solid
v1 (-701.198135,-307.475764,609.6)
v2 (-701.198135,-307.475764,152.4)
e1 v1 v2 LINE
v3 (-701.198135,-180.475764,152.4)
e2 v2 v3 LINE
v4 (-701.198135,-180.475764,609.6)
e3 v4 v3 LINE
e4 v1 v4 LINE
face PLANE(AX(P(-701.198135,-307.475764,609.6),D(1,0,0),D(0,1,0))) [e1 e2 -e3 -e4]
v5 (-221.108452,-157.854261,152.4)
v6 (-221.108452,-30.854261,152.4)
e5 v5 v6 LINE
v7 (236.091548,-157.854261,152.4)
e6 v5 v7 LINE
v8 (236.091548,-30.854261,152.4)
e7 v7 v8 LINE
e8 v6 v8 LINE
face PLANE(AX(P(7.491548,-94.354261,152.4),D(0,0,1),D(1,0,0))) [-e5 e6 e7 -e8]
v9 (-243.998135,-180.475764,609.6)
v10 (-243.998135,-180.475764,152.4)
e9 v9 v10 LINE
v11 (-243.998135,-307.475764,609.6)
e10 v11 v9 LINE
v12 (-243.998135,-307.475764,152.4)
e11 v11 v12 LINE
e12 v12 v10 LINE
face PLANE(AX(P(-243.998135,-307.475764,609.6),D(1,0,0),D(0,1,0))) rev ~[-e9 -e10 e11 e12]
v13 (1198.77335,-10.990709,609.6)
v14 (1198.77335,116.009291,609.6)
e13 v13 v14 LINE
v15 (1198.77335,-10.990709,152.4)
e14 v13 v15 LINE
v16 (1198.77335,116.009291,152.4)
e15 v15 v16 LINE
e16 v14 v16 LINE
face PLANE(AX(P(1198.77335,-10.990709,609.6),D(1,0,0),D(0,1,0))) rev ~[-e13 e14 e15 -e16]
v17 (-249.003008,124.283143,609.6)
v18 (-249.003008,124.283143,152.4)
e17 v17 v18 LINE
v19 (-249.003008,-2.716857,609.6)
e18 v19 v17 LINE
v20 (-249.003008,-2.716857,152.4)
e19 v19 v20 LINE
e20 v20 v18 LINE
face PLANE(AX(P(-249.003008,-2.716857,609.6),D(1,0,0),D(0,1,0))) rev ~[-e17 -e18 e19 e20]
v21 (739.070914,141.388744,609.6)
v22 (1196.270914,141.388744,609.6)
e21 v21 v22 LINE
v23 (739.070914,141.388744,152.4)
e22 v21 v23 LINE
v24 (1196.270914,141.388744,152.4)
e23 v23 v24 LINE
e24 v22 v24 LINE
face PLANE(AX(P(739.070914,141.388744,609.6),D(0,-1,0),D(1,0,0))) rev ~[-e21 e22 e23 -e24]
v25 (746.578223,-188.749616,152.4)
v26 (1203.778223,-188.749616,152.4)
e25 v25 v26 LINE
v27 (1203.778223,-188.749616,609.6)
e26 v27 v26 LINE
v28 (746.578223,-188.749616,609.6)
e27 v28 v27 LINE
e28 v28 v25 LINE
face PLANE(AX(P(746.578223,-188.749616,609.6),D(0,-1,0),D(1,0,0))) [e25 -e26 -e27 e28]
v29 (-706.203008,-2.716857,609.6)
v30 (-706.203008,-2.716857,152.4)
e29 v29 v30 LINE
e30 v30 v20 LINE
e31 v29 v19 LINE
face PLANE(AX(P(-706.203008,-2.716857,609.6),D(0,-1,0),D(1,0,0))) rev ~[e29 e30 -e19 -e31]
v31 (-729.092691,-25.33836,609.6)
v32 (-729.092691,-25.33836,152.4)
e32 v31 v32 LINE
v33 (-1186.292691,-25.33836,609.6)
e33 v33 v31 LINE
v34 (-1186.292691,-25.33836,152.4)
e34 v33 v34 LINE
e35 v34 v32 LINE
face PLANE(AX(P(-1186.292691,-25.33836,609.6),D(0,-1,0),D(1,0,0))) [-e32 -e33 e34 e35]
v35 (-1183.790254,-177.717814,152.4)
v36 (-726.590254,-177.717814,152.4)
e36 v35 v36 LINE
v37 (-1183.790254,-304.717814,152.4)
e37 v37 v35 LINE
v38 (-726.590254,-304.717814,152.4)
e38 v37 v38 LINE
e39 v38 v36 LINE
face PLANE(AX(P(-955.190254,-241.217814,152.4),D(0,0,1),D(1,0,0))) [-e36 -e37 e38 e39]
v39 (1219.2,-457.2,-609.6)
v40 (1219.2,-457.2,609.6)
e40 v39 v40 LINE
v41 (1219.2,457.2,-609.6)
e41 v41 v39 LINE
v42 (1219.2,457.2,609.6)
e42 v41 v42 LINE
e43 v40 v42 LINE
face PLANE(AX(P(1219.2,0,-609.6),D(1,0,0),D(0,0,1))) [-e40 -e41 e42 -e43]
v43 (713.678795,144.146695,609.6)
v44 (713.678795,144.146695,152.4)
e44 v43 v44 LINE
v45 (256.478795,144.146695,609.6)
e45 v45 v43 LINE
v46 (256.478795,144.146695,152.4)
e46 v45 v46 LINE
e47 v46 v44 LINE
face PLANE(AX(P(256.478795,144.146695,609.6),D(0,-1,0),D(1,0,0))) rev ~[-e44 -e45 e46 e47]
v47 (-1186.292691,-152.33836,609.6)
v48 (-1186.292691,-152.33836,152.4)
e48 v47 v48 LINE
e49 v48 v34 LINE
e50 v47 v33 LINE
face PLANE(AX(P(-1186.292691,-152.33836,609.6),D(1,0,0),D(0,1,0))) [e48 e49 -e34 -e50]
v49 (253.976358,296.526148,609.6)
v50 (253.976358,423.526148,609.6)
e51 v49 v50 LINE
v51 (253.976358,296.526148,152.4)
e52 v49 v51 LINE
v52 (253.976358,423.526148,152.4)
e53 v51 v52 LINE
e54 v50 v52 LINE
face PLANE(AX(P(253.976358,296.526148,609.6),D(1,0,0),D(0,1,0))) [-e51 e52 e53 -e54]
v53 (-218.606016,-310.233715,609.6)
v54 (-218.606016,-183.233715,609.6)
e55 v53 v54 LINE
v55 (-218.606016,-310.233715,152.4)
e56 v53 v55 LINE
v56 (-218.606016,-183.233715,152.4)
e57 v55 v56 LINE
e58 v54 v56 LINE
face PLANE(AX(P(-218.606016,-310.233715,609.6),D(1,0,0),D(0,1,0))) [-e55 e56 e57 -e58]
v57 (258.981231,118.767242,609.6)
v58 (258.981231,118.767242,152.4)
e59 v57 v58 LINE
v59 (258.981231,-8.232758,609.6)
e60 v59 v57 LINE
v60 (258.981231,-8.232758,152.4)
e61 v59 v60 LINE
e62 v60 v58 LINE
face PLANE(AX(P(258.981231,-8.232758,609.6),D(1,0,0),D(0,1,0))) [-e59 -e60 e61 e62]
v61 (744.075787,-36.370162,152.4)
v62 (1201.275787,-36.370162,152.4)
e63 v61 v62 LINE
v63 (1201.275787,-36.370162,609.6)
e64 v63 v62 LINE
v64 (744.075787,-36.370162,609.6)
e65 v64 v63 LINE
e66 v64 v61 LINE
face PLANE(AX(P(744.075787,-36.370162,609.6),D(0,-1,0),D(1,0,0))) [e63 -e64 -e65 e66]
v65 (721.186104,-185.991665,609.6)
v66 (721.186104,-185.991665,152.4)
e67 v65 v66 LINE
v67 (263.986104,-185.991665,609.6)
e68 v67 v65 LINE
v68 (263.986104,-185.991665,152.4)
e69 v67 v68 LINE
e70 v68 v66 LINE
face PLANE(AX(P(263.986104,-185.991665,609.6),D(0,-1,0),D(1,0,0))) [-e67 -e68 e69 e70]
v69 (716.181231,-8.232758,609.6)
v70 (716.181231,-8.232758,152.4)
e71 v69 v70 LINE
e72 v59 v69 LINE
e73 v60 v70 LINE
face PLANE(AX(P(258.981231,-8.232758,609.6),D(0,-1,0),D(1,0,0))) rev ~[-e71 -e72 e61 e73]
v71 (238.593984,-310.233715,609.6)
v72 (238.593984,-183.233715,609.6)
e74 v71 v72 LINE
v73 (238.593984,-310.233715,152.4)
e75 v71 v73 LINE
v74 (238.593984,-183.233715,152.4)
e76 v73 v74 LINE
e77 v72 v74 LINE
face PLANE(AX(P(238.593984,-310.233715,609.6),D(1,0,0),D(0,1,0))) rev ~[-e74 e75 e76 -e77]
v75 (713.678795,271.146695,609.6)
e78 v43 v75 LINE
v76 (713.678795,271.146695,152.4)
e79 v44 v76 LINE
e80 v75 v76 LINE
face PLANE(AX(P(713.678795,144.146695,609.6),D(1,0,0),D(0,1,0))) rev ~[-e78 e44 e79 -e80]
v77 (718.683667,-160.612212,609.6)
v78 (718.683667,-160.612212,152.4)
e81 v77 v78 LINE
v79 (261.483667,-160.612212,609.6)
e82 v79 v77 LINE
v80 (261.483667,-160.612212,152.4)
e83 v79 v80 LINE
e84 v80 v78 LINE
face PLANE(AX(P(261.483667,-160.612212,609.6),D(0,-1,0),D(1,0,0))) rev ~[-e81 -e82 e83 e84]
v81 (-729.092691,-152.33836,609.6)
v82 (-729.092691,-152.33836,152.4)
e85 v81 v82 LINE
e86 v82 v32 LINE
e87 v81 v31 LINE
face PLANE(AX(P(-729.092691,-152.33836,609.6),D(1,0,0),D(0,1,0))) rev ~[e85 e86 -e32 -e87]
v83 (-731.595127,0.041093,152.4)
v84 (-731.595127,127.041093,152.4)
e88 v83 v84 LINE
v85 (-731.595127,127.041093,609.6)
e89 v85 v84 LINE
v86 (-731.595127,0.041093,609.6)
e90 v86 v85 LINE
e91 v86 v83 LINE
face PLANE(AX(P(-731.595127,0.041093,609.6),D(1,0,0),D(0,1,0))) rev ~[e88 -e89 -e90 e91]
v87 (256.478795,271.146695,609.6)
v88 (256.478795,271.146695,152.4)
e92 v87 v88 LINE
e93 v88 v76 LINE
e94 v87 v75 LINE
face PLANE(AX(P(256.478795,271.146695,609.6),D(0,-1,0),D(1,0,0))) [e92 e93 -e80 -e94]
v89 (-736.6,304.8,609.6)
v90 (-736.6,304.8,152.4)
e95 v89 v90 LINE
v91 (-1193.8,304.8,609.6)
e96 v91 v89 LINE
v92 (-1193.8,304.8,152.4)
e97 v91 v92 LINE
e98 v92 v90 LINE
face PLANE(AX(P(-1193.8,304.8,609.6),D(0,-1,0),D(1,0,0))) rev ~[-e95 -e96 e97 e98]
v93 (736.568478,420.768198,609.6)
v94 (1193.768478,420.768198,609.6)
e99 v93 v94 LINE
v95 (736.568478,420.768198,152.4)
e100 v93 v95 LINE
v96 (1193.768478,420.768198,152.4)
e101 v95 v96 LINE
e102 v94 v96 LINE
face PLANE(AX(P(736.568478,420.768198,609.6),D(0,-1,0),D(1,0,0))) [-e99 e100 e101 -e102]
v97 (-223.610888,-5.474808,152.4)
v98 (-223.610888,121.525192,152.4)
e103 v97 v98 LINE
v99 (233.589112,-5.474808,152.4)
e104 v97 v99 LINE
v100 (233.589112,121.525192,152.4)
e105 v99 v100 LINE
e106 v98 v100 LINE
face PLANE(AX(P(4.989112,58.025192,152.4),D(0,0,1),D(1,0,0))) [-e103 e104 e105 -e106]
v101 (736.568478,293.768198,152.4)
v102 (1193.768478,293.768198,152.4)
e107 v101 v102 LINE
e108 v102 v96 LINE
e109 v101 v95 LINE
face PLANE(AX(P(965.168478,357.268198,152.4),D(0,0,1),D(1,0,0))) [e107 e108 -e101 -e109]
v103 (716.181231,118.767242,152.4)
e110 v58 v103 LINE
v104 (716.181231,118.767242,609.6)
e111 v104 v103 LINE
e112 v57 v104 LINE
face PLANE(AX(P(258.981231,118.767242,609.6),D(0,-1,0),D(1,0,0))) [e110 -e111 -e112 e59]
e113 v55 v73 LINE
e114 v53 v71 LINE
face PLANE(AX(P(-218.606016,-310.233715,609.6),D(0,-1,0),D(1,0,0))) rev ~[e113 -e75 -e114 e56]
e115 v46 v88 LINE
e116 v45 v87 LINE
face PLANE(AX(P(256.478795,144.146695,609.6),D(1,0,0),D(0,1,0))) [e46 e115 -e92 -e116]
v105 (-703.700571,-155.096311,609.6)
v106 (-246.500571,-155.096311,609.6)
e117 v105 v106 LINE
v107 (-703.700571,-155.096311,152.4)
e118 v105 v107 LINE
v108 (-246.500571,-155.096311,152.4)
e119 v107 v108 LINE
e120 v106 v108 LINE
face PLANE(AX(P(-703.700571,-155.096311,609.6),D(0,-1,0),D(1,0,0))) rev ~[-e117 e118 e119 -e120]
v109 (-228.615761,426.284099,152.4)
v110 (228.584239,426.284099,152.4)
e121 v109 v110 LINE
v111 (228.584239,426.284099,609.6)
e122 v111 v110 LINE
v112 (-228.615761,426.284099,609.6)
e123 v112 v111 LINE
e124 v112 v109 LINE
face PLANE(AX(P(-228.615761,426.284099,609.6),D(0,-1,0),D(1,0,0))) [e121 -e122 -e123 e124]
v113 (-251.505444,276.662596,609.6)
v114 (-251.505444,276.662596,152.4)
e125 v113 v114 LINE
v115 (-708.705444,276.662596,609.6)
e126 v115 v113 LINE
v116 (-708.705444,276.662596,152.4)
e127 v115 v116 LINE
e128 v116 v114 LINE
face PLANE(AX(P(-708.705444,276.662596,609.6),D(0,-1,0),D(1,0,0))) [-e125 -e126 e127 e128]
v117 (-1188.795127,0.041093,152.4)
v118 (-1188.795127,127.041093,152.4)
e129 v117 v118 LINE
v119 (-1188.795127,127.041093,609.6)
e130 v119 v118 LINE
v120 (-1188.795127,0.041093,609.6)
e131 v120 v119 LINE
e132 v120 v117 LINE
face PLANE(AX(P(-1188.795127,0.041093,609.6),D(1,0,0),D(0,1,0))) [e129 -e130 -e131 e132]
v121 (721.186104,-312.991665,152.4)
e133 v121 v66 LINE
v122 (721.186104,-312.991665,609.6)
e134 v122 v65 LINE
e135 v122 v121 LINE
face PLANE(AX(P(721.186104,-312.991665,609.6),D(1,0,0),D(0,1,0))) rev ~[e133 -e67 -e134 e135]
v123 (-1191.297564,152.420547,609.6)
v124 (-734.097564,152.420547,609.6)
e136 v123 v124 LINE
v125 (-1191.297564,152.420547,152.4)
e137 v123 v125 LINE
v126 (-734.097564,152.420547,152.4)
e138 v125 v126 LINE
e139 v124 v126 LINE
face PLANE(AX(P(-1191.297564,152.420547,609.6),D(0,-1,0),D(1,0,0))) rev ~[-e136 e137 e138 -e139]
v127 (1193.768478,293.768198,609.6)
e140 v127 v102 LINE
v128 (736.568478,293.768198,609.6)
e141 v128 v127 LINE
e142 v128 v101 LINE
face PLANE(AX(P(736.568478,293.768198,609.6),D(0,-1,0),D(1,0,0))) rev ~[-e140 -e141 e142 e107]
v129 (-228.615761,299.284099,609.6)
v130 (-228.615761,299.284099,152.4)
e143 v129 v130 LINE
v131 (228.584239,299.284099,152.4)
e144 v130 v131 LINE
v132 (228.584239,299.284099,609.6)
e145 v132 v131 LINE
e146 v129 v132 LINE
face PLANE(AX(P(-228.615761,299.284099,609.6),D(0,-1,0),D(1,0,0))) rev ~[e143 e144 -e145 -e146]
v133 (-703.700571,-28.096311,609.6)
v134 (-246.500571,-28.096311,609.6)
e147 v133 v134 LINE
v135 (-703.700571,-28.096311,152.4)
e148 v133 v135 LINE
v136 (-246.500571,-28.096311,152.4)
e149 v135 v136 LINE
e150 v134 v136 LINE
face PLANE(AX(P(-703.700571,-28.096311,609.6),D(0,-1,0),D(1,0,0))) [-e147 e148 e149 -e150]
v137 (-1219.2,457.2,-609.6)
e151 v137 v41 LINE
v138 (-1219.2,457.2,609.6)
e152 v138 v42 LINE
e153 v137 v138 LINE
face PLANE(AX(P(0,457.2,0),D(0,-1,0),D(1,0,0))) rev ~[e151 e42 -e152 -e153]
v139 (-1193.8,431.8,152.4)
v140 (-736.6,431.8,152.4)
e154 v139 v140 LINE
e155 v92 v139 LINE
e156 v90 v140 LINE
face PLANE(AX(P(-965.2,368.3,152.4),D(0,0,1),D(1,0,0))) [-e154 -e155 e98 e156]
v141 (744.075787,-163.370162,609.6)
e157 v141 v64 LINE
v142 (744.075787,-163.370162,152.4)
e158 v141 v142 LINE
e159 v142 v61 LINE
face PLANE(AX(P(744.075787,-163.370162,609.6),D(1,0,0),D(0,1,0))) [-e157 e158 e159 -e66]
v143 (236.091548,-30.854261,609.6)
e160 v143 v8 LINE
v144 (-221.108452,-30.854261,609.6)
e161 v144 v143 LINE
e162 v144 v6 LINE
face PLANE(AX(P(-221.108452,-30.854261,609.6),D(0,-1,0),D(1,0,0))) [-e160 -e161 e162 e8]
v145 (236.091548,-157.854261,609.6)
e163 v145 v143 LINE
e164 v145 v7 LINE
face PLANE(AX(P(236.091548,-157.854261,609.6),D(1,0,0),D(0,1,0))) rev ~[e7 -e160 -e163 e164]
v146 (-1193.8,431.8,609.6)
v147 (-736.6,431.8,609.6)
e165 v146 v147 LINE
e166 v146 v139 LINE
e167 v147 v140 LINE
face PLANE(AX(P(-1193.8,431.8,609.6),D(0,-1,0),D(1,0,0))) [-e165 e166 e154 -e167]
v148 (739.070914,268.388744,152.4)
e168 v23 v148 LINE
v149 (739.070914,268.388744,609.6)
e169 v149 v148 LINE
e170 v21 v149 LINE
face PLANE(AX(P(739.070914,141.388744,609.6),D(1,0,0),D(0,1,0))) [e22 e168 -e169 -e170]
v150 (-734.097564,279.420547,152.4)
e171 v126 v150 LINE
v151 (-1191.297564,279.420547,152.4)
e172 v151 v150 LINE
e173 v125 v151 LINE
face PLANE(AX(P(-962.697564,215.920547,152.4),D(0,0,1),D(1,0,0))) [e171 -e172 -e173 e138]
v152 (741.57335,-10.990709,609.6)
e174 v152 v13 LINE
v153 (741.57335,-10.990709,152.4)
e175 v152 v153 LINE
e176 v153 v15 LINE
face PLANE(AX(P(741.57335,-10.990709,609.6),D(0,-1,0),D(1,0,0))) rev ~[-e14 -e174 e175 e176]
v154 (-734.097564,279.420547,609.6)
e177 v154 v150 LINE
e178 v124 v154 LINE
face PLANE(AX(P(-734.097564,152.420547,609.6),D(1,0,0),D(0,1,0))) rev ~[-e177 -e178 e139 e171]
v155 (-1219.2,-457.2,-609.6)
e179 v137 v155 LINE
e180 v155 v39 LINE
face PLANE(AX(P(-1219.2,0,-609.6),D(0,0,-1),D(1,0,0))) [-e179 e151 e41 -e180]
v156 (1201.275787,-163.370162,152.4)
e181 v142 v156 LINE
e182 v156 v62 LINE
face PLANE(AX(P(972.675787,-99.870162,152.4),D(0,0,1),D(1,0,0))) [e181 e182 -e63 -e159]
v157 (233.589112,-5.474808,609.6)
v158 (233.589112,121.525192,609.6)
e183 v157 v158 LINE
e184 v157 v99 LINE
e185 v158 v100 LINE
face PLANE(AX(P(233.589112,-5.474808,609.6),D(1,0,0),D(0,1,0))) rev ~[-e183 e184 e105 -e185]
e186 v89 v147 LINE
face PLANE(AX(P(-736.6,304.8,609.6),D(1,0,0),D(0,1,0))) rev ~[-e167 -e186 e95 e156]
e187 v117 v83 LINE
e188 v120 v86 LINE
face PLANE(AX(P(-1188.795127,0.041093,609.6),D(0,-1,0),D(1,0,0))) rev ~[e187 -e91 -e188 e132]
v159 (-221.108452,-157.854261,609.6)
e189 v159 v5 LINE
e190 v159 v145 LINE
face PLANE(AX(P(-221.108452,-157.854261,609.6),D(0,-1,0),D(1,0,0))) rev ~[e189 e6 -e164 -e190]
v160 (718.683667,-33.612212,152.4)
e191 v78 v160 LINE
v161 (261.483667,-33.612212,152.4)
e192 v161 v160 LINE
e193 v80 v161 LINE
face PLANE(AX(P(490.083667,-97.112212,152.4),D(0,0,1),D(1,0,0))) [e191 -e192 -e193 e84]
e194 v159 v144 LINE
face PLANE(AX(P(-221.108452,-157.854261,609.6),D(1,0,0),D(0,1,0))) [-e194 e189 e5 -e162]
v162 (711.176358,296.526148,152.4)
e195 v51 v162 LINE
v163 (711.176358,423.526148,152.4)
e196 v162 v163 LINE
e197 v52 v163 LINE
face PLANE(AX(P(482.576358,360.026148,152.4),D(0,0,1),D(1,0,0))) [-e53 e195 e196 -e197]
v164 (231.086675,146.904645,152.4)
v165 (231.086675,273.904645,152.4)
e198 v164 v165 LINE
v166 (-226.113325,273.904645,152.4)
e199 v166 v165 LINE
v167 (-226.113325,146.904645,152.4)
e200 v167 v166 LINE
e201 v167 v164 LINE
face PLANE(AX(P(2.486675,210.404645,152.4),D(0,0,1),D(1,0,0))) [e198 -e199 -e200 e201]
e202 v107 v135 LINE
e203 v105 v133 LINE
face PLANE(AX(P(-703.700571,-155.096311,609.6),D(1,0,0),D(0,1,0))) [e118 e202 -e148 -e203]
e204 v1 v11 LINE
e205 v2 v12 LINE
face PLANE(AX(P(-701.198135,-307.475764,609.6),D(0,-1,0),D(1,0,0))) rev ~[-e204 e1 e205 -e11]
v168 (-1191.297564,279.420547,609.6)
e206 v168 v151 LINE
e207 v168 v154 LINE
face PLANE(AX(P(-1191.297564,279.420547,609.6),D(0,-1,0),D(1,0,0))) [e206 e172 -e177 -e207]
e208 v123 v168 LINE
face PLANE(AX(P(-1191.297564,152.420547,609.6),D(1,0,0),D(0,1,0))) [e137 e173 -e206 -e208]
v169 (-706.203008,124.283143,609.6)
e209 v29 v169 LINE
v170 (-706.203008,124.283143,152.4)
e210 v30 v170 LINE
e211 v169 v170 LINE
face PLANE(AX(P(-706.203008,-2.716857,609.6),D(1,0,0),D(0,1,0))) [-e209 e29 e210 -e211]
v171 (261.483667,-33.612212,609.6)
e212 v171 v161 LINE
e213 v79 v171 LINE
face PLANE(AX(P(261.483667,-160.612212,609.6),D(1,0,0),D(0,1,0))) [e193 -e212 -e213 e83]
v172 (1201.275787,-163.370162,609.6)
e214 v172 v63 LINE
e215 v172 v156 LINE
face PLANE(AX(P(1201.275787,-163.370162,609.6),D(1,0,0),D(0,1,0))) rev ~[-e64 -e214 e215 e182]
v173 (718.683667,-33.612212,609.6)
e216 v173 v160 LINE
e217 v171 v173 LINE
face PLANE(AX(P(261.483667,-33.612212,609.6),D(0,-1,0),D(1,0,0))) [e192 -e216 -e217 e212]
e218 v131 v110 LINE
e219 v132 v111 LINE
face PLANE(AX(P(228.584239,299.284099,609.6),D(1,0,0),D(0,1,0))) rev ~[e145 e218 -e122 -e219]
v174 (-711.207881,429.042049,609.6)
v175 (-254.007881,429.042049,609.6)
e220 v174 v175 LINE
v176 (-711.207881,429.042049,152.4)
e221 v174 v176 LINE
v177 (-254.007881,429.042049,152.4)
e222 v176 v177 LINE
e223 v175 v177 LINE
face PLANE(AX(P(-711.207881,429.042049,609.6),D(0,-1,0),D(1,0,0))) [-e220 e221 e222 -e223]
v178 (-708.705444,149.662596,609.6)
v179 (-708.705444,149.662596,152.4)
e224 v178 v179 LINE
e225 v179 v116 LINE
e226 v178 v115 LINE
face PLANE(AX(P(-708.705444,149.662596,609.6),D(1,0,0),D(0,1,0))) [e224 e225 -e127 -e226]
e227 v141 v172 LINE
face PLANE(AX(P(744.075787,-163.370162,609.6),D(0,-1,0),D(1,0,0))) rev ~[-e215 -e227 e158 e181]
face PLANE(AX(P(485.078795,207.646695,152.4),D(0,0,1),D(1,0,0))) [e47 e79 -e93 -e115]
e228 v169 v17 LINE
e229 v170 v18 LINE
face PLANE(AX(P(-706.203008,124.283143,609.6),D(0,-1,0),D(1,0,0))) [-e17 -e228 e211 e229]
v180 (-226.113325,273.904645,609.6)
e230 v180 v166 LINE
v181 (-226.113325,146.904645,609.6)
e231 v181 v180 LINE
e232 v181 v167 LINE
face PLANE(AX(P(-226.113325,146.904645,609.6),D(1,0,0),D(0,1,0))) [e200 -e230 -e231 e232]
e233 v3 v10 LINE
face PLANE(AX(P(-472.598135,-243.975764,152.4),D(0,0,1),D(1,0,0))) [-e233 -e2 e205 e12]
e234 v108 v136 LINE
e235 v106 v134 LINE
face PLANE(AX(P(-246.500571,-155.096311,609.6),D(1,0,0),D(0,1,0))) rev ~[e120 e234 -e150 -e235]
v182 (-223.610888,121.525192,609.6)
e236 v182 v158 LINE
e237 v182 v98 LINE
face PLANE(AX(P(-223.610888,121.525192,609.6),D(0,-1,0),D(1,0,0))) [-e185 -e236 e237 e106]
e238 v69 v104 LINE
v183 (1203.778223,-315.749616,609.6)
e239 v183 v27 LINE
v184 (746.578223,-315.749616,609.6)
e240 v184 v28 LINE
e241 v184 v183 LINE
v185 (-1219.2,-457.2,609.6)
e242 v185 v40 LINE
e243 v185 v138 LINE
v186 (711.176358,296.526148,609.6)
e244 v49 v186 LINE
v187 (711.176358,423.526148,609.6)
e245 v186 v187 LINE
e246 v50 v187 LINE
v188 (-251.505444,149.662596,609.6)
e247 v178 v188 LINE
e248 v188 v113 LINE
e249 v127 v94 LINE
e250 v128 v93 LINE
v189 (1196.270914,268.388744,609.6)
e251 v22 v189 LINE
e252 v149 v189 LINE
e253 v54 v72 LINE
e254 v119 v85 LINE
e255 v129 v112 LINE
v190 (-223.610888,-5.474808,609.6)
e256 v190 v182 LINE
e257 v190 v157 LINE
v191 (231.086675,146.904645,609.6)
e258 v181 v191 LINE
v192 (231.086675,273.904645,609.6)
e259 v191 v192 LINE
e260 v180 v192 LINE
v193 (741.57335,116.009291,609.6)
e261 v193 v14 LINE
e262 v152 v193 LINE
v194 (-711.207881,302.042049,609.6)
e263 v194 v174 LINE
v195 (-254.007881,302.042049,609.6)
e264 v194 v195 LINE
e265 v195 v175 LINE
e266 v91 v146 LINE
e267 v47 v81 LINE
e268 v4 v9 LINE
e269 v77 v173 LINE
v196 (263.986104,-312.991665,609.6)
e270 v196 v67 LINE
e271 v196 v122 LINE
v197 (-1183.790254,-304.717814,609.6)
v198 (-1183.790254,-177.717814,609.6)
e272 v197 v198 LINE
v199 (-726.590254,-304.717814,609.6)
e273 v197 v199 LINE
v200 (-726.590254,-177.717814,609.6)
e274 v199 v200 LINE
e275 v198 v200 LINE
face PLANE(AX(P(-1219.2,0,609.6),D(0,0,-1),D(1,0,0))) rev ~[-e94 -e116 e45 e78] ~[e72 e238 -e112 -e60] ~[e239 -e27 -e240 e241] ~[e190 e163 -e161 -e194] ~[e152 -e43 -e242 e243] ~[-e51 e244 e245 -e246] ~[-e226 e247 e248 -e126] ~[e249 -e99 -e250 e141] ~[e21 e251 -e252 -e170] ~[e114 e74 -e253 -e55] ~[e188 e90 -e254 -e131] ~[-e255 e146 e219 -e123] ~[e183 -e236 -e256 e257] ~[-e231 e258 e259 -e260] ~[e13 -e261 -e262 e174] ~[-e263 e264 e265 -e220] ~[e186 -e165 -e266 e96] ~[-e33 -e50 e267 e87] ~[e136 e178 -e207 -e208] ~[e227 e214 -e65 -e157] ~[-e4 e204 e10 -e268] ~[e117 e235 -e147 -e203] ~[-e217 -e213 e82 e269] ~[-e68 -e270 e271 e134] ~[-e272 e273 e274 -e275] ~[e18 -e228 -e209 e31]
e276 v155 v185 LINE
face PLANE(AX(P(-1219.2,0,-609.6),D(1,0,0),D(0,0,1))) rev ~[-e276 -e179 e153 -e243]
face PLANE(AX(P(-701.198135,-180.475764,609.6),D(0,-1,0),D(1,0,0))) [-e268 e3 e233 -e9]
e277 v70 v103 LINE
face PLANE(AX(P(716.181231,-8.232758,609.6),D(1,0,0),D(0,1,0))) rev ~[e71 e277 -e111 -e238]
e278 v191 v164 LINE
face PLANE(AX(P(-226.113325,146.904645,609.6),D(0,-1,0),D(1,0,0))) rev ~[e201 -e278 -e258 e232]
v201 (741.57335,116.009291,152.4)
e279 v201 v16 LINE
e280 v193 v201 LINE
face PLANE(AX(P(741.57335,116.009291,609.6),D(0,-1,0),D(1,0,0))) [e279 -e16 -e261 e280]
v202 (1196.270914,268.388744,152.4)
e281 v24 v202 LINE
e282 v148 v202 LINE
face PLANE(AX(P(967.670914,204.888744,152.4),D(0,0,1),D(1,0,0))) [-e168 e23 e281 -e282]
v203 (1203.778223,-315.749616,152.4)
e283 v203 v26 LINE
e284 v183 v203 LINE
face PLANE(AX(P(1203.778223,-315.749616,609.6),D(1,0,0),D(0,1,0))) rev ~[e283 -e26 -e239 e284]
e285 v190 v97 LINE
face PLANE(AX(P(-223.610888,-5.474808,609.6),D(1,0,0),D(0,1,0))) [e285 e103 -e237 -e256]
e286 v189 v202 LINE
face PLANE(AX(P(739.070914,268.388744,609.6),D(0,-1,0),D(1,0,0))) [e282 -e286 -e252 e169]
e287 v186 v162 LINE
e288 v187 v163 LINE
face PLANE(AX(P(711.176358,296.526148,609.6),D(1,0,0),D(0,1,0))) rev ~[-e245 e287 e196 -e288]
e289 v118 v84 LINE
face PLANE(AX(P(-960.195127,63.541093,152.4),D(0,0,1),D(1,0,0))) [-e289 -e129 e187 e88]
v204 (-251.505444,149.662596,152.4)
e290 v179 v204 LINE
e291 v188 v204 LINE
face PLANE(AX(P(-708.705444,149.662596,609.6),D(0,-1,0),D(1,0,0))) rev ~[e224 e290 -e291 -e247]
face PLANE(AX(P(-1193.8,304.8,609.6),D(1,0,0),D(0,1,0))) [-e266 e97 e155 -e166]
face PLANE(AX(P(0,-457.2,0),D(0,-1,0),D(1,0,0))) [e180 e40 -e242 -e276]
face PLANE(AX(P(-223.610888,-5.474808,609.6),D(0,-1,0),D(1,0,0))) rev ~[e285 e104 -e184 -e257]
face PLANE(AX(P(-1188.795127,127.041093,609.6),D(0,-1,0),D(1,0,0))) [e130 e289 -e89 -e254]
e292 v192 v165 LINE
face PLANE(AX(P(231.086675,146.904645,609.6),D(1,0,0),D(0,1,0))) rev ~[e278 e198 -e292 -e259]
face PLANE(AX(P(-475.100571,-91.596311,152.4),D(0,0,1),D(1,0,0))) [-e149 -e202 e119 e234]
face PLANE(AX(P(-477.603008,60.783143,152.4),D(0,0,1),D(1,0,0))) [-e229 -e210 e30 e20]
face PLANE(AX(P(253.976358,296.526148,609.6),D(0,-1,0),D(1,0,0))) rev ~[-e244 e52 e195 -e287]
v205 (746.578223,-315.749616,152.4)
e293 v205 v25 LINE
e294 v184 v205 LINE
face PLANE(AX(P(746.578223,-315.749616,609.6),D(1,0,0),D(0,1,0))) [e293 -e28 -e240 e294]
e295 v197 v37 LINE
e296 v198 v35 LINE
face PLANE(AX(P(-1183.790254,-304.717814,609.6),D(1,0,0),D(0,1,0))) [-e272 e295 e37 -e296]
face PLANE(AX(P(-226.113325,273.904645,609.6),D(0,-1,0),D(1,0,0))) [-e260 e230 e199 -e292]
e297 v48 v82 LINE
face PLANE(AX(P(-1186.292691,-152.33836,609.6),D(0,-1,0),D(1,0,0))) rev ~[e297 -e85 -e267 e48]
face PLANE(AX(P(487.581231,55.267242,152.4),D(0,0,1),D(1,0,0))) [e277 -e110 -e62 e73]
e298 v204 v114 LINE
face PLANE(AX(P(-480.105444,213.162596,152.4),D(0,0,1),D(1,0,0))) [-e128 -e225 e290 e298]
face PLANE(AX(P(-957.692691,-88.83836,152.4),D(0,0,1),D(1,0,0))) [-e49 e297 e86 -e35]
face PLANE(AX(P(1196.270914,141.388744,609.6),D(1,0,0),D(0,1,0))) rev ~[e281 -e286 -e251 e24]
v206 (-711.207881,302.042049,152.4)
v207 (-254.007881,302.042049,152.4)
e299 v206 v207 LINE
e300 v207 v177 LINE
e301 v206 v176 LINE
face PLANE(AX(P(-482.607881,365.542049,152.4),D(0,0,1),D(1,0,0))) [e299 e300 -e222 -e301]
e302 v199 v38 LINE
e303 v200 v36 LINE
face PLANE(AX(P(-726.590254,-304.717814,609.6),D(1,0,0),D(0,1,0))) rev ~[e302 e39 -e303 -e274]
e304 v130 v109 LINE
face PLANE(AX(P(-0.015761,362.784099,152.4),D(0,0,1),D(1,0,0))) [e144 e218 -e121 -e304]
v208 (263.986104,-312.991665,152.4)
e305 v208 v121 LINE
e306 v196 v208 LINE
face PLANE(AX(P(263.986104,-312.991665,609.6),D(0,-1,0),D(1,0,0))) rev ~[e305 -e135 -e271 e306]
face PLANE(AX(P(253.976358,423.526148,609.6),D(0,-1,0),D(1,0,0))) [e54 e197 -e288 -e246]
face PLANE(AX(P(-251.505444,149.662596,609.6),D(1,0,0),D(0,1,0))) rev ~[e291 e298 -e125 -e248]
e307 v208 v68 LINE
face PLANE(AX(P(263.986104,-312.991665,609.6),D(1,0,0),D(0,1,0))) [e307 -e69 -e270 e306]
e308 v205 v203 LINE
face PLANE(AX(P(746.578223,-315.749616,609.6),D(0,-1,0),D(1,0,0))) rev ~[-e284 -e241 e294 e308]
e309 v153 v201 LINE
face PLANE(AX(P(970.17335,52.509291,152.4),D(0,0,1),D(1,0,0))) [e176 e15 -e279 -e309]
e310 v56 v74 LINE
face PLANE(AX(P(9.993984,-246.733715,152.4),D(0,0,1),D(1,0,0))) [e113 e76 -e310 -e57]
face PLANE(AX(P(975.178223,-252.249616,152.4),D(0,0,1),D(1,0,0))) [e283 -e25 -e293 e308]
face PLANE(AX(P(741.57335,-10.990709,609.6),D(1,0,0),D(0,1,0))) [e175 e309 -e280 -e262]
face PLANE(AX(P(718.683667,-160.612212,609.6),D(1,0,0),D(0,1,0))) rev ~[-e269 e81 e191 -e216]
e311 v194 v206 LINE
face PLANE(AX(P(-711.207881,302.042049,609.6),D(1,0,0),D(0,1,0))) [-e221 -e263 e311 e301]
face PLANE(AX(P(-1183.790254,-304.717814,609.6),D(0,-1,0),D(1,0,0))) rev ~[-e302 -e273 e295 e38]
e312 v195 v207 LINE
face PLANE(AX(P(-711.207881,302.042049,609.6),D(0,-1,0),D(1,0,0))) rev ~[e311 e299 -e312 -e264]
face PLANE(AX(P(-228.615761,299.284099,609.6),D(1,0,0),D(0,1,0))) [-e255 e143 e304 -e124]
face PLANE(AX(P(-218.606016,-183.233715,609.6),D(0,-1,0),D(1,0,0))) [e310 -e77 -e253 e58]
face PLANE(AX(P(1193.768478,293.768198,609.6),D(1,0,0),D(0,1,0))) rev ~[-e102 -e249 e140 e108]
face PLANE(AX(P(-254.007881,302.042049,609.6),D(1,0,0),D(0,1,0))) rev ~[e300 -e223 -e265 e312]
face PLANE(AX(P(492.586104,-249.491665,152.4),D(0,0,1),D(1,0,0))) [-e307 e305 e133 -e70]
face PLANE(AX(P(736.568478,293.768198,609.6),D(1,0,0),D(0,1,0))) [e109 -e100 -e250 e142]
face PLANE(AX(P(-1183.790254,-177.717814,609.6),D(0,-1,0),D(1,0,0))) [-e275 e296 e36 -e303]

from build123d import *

# Parameters (mm, degrees)
F0_W     = 2438.4
F0_H     = 1219.2
F1_DEPTH = 457.2
F2_W     = 457.2
F2_H     = 127
F3_DEPTH = 457.2


with BuildPart() as f1:
    # F0 (on Front) → F1 (new body, symmetric)
    with BuildSketch(Plane.XZ):
        Rectangle(F0_W, F0_H)
    extrude(amount=F1_DEPTH, both=True)

    # F2 (on face) → F3 (cut)
    with BuildSketch(Plane.XY.offset(609.6)):
        with Locations((-965.2, 368.3)):
            Rectangle(F2_W, F2_H)
        with Locations((-962.697564, 215.920547)):
            Rectangle(F2_W, F2_H)
        with Locations((-960.195127, 63.541093)):
            Rectangle(F2_W, F2_H)
        with Locations((-957.692691, -88.83836)):
            Rectangle(F2_W, F2_H)
        with Locations((-955.190254, -241.217814)):
            Rectangle(F2_W, F2_H)
        with Locations((-482.607881, 365.542049)):
            Rectangle(F2_W, F2_H)
        with Locations((-480.105444, 213.162596)):
            Rectangle(F2_W, F2_H)
        with Locations((-477.603008, 60.783143)):
            Rectangle(F2_W, F2_H)
        with Locations((-475.100571, -91.596311)):
            Rectangle(F2_W, F2_H)
        with Locations((-472.598135, -243.975764)):
            Rectangle(F2_W, F2_H)
        with Locations((-0.015761, 362.784099)):
            Rectangle(F2_W, F2_H)
        with Locations((2.486675, 210.404645)):
            Rectangle(F2_W, F2_H)
        with Locations((4.989112, 58.025192)):
            Rectangle(F2_W, F2_H)
        with Locations((7.491548, -94.354261)):
            Rectangle(F2_W, F2_H)
        with Locations((9.993984, -246.733715)):
            Rectangle(F2_W, F2_H)
        with Locations((482.576358, 360.026148)):
            Rectangle(F2_W, F2_H)
        with Locations((485.078795, 207.646695)):
            Rectangle(F2_W, F2_H)
        with Locations((487.581231, 55.267242)):
            Rectangle(F2_W, F2_H)
        with Locations((490.083667, -97.112212)):
            Rectangle(F2_W, F2_H)
        with Locations((492.586104, -249.491665)):
            Rectangle(F2_W, F2_H)
        with Locations((965.168478, 357.268198)):
            Rectangle(F2_W, F2_H)
        with Locations((967.670914, 204.888744)):
            Rectangle(F2_W, F2_H)
        with Locations((970.17335, 52.509291)):
            Rectangle(F2_W, F2_H)
        with Locations((972.675787, -99.870162)):
            Rectangle(F2_W, F2_H)
        with Locations((975.178223, -252.249616)):
            Rectangle(F2_W, F2_H)
    extrude(amount=-F3_DEPTH, mode=Mode.SUBTRACT)


solid = f1.part
